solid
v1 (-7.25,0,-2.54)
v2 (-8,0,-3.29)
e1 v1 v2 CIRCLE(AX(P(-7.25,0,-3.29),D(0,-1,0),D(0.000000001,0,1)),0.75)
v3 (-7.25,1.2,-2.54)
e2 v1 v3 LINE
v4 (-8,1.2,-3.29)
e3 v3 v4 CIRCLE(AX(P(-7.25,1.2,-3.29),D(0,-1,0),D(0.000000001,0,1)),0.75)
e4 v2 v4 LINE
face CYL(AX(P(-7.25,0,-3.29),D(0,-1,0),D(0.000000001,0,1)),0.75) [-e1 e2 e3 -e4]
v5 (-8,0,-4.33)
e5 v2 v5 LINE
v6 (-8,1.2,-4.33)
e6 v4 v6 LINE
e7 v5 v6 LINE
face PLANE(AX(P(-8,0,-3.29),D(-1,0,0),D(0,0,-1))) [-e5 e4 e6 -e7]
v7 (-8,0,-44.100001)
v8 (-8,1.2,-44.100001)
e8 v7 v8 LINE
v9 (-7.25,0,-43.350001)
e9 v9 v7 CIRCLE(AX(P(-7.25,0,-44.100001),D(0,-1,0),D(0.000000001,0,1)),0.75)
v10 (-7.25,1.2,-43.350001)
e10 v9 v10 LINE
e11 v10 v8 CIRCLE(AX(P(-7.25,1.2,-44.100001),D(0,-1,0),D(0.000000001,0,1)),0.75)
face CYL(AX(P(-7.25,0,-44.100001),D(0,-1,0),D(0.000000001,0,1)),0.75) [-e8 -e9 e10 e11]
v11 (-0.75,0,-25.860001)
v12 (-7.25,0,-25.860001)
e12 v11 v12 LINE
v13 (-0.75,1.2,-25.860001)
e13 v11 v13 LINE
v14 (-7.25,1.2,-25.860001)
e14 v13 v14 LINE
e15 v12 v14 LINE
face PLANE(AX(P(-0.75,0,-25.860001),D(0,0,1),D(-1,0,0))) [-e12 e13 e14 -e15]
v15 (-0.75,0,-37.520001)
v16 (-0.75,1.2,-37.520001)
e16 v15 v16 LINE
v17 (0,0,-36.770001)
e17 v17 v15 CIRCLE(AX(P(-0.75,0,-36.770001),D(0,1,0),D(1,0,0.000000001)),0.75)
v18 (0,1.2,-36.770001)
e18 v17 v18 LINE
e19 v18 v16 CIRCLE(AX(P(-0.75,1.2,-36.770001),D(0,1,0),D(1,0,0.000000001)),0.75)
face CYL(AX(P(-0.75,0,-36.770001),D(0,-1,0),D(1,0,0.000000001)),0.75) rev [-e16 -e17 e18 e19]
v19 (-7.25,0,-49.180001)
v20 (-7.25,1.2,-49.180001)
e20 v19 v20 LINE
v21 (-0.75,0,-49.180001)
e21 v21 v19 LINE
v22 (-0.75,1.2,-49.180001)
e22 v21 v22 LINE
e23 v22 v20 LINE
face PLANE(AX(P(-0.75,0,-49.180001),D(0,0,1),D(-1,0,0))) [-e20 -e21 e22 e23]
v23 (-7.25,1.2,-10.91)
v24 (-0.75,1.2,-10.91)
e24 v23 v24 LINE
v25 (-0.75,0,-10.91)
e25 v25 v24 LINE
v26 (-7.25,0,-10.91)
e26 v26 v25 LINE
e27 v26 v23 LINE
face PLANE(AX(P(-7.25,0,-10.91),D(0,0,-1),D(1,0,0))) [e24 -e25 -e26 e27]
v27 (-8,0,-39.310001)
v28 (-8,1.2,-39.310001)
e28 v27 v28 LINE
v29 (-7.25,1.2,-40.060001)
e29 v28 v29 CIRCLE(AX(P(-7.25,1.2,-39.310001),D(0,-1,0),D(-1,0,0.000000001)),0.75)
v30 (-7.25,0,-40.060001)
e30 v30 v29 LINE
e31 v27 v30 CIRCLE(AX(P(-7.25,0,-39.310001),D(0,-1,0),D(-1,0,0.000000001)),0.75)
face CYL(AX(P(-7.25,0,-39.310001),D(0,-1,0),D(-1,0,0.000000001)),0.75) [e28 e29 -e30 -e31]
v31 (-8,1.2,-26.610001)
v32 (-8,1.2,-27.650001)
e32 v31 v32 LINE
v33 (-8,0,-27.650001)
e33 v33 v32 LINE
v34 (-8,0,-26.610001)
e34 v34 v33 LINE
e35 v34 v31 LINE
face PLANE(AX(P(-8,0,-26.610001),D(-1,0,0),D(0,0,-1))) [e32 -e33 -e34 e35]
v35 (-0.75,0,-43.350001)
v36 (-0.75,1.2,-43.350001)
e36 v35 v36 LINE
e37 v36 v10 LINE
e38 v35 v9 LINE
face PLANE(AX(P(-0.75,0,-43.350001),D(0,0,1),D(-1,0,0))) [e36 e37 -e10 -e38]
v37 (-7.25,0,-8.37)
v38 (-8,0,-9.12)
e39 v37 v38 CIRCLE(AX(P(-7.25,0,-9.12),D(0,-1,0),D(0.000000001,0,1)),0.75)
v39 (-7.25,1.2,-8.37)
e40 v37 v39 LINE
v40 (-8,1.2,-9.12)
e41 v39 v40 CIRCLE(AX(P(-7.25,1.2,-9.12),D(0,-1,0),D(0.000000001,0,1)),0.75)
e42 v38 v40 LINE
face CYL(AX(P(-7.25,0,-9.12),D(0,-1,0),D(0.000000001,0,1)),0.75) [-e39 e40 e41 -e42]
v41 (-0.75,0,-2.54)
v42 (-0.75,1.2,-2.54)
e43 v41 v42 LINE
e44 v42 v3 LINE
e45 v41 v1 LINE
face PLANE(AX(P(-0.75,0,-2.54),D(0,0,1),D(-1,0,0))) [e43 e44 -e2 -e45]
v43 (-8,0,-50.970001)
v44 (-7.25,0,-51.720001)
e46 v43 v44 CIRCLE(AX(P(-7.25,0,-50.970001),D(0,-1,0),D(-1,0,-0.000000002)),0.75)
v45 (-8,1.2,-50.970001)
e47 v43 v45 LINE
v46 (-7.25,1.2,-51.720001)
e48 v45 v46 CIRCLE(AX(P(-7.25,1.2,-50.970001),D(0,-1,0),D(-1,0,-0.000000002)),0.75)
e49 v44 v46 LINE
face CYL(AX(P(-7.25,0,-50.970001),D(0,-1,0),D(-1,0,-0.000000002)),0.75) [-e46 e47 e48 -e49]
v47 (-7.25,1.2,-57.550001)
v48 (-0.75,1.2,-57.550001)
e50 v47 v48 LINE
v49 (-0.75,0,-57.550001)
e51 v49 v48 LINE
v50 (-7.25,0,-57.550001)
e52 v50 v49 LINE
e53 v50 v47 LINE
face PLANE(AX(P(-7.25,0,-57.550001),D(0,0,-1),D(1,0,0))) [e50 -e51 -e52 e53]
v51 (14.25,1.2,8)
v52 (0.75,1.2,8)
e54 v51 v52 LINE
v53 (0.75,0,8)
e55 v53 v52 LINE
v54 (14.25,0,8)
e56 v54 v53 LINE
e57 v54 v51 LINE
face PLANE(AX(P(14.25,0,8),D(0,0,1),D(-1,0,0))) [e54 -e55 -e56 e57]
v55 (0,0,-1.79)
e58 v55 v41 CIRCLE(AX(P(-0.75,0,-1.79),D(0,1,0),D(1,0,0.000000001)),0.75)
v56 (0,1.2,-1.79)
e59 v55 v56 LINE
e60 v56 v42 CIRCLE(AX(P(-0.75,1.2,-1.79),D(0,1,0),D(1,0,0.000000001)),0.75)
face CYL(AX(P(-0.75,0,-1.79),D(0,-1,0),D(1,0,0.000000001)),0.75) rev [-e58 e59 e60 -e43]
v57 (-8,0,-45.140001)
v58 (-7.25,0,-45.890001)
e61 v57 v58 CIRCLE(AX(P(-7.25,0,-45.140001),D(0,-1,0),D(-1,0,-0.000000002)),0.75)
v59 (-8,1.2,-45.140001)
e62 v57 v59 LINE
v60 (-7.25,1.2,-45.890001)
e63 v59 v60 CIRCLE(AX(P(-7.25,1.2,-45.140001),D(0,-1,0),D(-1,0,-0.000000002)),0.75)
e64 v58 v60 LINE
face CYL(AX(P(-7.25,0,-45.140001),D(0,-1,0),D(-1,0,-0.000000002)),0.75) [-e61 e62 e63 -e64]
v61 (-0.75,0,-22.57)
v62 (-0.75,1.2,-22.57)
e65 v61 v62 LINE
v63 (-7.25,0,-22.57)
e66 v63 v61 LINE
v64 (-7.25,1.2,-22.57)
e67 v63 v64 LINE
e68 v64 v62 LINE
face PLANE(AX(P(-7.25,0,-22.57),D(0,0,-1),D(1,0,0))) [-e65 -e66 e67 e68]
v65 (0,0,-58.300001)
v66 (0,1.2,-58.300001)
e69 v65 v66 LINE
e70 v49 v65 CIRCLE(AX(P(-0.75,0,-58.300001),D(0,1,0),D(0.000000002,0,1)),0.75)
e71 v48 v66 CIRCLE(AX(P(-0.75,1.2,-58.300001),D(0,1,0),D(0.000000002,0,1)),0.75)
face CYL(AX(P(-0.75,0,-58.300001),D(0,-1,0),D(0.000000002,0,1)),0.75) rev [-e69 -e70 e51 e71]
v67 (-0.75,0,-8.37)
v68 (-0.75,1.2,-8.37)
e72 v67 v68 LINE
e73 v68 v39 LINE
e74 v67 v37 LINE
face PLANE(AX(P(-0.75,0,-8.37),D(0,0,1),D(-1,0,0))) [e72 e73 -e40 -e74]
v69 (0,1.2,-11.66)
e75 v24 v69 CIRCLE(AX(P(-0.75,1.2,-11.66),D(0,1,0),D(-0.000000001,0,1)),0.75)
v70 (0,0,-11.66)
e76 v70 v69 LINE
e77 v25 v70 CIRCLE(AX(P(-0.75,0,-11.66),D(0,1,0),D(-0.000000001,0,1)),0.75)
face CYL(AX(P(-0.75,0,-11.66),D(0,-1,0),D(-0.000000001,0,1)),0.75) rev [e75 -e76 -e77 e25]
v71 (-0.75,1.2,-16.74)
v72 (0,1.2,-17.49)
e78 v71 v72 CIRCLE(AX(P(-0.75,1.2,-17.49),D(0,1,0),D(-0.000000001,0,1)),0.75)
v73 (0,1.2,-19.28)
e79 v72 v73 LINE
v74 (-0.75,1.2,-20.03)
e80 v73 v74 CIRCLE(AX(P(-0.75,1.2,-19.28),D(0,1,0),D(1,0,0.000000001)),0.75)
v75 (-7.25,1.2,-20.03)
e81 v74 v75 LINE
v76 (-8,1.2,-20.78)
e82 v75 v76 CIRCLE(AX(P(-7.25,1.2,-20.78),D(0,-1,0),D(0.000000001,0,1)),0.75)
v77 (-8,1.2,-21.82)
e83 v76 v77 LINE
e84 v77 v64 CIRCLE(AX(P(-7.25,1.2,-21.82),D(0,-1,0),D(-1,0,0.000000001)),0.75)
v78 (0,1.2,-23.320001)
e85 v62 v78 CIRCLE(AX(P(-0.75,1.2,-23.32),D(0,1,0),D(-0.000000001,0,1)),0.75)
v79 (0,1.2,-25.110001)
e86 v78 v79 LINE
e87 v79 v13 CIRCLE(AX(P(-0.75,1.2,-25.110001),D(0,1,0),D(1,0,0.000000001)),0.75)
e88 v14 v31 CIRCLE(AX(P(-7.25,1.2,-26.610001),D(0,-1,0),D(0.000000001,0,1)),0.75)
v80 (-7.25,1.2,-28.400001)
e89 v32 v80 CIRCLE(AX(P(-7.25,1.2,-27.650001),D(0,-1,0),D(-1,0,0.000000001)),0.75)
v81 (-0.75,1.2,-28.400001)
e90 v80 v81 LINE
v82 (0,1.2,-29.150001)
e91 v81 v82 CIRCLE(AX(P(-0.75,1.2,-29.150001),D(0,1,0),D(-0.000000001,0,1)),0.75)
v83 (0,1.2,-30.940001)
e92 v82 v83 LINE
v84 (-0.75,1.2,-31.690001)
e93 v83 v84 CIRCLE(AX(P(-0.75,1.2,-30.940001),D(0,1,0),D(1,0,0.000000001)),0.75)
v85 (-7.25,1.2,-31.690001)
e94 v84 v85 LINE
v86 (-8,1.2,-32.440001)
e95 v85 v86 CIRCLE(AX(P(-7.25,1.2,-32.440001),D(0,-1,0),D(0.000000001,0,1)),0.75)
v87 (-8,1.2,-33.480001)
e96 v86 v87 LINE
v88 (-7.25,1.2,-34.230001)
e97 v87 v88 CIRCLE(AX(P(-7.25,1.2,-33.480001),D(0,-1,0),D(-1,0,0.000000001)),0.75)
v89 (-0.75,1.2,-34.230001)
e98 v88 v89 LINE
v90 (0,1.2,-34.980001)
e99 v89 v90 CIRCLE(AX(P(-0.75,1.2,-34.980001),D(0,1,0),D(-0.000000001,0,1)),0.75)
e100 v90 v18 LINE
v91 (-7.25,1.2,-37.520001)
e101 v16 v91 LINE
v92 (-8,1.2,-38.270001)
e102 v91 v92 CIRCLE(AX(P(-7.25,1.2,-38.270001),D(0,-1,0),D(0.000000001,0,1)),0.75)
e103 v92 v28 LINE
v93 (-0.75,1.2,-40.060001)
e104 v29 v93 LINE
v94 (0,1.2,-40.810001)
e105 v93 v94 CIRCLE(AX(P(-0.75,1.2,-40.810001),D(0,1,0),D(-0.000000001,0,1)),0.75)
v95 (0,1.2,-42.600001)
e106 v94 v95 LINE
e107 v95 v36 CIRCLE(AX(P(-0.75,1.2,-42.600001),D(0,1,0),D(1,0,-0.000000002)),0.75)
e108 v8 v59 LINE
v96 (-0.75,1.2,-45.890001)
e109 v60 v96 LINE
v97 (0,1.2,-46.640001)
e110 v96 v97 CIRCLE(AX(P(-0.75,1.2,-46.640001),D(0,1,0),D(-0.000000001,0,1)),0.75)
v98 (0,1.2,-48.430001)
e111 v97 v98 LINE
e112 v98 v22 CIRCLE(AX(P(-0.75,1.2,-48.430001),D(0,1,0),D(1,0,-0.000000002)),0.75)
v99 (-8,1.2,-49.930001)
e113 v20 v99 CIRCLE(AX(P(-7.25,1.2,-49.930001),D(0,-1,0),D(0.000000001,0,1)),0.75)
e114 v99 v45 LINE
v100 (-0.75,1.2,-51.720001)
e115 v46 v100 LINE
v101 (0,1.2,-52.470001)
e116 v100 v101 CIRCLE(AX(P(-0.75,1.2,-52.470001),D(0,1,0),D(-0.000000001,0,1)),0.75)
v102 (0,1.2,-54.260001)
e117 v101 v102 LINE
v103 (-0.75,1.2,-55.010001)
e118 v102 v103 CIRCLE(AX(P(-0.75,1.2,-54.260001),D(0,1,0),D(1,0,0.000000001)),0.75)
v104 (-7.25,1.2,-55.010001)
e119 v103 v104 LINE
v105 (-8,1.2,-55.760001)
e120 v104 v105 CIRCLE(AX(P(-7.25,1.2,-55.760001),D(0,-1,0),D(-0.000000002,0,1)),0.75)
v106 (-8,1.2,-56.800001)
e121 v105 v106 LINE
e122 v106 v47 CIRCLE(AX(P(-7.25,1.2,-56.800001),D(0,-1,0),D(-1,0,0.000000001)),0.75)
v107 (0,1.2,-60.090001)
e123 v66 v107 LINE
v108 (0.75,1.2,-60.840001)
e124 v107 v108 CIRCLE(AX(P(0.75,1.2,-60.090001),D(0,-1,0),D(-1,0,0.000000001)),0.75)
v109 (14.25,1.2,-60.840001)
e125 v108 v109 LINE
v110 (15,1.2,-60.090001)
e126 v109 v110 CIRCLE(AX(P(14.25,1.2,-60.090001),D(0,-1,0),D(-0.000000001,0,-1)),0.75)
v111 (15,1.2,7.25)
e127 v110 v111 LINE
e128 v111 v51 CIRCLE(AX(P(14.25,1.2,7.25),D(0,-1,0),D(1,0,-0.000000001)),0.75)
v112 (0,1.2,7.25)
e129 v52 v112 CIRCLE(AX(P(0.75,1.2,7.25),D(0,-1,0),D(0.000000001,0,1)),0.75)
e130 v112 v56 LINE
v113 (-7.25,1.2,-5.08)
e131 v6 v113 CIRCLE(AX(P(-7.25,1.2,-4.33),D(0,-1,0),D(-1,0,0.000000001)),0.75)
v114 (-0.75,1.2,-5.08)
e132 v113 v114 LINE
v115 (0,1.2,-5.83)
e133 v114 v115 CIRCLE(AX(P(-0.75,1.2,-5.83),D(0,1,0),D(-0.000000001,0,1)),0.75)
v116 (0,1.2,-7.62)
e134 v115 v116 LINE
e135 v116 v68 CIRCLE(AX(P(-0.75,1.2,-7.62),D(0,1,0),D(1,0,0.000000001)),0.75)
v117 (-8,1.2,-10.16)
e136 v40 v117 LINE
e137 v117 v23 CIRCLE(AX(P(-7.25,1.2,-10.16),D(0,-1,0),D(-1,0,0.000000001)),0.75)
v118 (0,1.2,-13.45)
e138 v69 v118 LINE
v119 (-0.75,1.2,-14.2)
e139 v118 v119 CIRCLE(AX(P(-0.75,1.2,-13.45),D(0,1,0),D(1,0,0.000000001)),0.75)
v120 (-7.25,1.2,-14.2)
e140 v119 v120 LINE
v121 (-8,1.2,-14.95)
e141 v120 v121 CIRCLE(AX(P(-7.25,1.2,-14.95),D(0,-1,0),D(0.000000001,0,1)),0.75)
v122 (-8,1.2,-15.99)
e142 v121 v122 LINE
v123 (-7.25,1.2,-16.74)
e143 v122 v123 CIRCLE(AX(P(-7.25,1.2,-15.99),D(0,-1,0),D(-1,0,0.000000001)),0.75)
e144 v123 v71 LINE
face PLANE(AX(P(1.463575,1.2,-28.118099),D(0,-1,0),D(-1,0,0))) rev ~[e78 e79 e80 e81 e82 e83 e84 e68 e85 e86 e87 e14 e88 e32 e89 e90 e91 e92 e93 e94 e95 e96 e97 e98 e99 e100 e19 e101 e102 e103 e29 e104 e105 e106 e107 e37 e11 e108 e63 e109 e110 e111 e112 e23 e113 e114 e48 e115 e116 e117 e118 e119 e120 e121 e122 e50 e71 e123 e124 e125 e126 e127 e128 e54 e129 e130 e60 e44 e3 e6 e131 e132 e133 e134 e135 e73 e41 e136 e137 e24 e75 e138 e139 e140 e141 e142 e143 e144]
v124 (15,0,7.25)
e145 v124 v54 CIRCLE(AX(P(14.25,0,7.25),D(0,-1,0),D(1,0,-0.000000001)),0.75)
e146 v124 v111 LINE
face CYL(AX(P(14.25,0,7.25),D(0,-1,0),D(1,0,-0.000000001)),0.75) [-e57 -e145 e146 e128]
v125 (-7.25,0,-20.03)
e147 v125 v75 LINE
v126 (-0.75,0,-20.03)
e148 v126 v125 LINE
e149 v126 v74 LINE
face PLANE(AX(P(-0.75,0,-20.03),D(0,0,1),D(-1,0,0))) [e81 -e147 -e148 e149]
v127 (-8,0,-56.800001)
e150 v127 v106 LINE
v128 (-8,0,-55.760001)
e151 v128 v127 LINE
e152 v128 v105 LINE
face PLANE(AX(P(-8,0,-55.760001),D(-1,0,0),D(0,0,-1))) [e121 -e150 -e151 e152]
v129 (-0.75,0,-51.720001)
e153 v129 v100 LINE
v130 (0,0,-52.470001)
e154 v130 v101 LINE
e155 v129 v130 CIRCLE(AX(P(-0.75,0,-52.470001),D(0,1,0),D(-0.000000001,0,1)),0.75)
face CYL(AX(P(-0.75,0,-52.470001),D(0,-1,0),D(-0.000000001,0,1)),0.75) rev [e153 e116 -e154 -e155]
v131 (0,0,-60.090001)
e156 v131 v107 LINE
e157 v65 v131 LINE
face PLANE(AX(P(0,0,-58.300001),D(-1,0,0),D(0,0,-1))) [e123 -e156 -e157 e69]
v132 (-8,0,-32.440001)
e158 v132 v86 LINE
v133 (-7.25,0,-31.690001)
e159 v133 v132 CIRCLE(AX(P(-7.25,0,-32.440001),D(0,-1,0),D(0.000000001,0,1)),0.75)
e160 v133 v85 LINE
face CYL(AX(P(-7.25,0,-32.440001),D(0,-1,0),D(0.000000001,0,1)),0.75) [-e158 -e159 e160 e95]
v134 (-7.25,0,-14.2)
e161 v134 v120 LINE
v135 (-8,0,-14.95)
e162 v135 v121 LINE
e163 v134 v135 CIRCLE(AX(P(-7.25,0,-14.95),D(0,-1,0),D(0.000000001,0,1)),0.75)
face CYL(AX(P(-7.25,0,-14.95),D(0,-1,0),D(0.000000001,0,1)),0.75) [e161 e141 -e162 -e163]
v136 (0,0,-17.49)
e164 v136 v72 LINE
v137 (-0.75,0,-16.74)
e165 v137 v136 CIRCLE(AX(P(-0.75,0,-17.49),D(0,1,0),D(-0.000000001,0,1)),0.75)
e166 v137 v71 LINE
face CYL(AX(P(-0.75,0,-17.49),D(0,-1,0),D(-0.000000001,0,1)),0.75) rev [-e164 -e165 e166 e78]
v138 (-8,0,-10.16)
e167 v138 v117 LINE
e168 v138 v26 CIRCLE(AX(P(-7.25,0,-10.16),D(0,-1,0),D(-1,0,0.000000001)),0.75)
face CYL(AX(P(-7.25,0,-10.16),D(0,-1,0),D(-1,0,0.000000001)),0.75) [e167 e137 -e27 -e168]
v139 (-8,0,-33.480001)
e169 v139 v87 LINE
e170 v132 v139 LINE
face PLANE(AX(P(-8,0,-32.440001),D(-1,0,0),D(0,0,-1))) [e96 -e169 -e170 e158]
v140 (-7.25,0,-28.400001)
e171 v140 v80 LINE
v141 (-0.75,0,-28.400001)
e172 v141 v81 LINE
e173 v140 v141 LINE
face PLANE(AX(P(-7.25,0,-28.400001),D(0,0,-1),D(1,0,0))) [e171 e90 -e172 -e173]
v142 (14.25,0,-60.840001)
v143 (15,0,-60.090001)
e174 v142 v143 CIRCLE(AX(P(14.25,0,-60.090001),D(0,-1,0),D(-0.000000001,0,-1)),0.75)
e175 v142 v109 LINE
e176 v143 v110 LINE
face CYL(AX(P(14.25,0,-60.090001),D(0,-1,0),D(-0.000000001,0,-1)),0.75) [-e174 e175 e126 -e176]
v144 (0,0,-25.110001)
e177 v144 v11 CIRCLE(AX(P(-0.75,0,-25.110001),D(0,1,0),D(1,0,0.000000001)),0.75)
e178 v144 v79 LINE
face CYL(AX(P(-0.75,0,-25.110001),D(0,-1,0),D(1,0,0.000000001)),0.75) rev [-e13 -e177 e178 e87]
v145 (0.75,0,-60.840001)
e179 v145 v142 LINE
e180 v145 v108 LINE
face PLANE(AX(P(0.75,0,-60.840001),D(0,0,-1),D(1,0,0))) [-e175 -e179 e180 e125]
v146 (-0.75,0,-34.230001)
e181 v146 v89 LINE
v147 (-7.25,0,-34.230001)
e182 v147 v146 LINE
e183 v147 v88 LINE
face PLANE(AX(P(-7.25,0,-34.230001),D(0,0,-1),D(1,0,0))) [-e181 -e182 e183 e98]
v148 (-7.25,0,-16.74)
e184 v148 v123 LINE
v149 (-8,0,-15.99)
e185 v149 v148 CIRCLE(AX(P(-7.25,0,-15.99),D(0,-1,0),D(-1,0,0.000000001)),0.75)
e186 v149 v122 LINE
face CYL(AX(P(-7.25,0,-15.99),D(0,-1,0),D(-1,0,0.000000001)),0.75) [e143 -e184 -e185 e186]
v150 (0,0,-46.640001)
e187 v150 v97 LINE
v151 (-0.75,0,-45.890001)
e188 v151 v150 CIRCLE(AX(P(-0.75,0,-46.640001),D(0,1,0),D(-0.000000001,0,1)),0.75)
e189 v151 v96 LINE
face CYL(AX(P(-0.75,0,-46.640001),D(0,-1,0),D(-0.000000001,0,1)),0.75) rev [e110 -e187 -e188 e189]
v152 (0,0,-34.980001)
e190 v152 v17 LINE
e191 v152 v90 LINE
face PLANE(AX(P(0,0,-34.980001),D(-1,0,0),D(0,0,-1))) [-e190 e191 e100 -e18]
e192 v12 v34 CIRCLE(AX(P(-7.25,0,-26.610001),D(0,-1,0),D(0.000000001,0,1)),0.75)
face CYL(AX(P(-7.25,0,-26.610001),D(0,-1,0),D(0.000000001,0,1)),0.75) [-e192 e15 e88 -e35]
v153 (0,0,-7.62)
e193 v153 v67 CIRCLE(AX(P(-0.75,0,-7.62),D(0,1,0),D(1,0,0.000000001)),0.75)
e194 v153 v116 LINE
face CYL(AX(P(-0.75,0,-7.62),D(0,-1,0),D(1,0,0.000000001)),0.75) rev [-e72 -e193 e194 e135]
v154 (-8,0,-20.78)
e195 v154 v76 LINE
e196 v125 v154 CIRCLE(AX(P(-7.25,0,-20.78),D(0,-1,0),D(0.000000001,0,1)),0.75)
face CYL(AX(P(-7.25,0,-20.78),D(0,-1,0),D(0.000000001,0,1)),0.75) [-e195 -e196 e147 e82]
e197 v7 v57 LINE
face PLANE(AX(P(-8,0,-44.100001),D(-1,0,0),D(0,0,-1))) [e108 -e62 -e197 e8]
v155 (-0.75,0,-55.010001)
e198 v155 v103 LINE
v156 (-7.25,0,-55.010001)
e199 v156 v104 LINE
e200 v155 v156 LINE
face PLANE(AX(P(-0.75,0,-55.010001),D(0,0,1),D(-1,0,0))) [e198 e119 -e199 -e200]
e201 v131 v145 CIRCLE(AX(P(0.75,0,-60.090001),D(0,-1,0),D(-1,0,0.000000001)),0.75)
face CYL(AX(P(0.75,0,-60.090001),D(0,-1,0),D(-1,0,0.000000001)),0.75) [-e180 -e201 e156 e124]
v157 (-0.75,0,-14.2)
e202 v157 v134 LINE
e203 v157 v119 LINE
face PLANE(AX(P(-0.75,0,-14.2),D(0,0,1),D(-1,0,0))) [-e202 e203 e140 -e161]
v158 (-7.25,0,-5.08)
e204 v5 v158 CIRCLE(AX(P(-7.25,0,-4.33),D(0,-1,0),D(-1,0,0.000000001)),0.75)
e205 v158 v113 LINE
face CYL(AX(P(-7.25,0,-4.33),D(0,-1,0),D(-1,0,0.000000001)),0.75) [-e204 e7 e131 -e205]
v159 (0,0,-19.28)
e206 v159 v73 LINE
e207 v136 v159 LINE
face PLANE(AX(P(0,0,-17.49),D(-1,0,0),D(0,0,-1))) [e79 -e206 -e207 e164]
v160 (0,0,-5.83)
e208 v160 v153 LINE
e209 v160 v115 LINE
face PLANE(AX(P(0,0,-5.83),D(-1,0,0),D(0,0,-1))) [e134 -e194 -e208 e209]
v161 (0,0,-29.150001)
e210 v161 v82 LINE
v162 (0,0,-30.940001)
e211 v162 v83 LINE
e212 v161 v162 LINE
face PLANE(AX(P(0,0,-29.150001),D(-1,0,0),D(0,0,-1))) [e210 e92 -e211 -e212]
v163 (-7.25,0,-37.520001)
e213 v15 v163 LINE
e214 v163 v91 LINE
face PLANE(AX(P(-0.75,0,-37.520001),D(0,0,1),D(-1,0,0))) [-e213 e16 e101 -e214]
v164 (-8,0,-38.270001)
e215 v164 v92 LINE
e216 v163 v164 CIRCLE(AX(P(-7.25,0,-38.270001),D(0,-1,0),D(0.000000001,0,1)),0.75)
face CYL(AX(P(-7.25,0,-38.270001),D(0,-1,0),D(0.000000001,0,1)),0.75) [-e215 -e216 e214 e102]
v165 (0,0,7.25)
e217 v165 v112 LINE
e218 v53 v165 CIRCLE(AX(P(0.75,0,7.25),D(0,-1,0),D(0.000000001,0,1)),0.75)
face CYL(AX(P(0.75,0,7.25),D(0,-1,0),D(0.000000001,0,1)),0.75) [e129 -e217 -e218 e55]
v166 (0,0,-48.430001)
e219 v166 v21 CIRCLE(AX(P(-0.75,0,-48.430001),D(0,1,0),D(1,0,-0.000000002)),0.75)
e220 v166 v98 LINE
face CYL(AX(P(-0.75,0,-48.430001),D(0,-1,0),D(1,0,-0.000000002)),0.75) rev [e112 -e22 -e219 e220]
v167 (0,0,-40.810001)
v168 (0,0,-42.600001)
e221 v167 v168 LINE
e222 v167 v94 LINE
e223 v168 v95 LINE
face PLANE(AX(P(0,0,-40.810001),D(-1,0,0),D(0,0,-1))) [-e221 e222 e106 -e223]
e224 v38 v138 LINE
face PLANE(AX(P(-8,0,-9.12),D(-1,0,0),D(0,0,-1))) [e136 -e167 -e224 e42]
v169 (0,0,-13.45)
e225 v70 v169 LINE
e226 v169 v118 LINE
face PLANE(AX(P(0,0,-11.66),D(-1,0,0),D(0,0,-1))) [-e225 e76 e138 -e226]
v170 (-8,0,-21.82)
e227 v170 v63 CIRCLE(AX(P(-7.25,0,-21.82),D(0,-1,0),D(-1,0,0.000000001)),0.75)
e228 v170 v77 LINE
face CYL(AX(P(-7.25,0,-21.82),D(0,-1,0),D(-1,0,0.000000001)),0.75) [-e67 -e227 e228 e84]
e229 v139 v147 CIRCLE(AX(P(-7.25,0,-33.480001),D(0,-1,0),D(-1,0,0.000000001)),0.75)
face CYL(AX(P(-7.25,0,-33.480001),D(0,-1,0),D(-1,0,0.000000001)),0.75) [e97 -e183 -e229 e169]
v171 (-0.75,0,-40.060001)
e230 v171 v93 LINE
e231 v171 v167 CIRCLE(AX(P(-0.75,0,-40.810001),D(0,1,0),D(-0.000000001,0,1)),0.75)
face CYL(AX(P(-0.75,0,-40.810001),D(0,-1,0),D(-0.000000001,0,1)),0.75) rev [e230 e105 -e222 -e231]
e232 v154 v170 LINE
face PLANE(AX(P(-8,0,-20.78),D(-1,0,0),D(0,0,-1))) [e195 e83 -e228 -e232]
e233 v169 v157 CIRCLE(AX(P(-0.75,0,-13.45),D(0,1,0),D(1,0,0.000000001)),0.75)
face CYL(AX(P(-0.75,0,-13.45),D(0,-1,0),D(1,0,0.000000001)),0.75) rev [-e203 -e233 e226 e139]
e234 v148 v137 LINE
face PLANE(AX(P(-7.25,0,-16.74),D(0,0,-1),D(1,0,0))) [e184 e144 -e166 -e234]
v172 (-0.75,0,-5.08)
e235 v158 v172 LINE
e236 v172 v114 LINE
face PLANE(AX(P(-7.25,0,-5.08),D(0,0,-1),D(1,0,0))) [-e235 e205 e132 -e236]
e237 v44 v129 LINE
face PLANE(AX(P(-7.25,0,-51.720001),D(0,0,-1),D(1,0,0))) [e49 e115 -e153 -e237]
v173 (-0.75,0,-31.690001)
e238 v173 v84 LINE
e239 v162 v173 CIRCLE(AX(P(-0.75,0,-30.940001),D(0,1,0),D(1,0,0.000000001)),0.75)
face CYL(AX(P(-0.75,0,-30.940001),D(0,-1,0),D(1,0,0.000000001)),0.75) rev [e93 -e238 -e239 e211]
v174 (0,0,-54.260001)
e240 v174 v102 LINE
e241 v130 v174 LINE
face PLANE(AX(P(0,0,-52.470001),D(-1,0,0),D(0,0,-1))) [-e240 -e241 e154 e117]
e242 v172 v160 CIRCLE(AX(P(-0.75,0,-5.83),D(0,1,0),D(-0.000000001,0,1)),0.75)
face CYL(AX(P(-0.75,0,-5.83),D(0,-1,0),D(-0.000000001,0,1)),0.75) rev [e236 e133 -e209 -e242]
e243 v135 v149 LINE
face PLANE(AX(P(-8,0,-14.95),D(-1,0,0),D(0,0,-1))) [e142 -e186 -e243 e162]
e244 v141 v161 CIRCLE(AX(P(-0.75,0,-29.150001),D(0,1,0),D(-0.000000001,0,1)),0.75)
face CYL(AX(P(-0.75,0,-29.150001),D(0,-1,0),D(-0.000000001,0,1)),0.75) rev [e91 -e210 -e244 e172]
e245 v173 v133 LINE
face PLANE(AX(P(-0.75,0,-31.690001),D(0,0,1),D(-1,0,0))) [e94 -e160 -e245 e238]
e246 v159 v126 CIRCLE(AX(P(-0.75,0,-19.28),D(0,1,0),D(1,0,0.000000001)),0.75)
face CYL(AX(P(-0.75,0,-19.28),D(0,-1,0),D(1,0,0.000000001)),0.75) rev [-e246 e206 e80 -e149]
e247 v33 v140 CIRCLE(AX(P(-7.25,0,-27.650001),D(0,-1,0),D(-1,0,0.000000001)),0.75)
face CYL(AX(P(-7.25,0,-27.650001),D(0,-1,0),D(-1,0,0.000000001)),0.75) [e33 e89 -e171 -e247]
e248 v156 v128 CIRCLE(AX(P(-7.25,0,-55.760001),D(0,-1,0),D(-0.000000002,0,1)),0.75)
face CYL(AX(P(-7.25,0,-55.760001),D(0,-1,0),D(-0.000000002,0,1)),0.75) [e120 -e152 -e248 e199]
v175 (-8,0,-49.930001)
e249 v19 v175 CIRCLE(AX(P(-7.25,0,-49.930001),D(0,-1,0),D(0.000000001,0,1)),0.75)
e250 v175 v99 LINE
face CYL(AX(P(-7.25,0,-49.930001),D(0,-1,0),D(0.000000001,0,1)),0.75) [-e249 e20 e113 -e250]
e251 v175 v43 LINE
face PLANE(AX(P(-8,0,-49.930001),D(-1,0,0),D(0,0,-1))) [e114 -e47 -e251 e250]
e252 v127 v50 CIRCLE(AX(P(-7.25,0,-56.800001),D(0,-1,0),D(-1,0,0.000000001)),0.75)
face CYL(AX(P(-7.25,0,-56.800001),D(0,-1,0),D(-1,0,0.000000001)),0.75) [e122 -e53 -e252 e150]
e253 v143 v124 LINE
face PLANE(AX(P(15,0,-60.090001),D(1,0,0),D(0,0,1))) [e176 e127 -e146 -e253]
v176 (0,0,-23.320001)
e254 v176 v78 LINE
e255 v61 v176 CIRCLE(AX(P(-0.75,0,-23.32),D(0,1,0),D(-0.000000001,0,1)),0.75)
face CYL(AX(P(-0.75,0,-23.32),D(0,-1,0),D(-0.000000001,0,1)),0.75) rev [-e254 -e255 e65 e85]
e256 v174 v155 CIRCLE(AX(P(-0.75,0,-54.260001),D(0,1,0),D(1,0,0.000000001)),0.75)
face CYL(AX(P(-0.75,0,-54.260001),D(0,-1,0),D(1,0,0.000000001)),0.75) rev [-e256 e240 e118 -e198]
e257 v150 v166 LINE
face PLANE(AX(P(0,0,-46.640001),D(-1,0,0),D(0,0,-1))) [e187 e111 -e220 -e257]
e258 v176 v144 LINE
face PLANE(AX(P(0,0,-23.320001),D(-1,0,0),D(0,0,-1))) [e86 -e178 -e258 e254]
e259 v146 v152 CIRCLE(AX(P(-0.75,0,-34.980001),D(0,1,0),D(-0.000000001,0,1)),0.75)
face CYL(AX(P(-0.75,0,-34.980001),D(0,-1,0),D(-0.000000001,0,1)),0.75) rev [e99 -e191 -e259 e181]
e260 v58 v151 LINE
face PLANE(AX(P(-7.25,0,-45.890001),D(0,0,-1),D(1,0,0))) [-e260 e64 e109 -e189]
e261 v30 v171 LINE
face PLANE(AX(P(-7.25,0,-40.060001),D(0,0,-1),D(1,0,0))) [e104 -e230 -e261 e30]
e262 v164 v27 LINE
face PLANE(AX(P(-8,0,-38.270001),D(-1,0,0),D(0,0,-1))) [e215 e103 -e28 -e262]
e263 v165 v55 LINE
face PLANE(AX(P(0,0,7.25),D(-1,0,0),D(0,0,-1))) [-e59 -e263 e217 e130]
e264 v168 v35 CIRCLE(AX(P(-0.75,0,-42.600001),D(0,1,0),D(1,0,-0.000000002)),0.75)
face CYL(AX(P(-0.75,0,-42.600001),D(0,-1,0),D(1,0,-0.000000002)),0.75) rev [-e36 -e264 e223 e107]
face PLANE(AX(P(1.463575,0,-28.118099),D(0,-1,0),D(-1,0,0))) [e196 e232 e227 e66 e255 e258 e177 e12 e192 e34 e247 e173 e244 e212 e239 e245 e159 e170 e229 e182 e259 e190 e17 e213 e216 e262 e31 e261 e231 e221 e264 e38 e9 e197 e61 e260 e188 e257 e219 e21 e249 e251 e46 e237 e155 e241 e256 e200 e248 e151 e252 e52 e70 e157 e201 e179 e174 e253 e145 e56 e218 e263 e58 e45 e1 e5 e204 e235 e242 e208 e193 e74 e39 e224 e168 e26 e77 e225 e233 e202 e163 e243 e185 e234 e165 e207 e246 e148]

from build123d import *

# Parameters (mm, degrees)
BOSS_EXTRUDE1_DEPTH = 1.2


with BuildPart() as part:
    # Sketch1 → Boss-Extrude1 (new body)
    with BuildSketch(Plane(origin=(0, 0, 0), x_dir=(1, 0, 0), z_dir=(0, 1, 0))):
        with BuildLine():
            Line((-0.75, 2.54), (-7.25, 2.54))
            ThreePointArc((-7.25, 2.54), (-7.780330086, 2.759669914), (-8, 3.29))
            Line((-8, 3.29), (-8, 4.33))
            ThreePointArc((-8, 4.33), (-7.780330086, 4.860330086), (-7.25, 5.08))
            Line((-7.25, 5.08), (-0.75, 5.08))
            ThreePointArc((-0.75, 5.08), (-0.219669914, 5.299669914), (0, 5.83))
            Line((0, 5.83), (0, 7.62000013))
            ThreePointArc((0, 7.62000013), (-0.219669914, 8.150330216), (-0.75, 8.37000013))
            Line((-0.75, 8.37000013), (-7.25, 8.37000013))
            ThreePointArc((-7.25, 8.37000013), (-7.780330086, 8.589670044), (-8, 9.12000013))
            Line((-8, 9.12000013), (-8, 10.16000013))
            ThreePointArc((-8, 10.16000013), (-7.780330086, 10.690330216), (-7.25, 10.91000013))
            Line((-7.25, 10.91000013), (-0.75, 10.91000013))
            ThreePointArc((-0.75, 10.91000013), (-0.219669868, 11.12967009), (0, 11.66000026))
            Line((0, 11.66000026), (0, 13.45000026))
            ThreePointArc((0, 13.45000026), (-0.219669914, 13.980330346), (-0.75, 14.20000026))
            Line((-0.75, 14.20000026), (-7.25, 14.20000026))
            ThreePointArc((-7.25, 14.20000026), (-7.780330086, 14.419670174), (-8, 14.95000026))
            Line((-8, 14.95000026), (-8, 15.99000026))
            ThreePointArc((-8, 15.99000026), (-7.780330086, 16.520330346), (-7.25, 16.74000026))
            Line((-7.25, 16.74000026), (-0.75, 16.74000026))
            ThreePointArc((-0.75, 16.74000026), (-0.219669868, 16.95967022), (0, 17.49000039))
            Line((0, 17.49000039), (0, 19.28000039))
            ThreePointArc((0, 19.28000039), (-0.219669914, 19.810330476), (-0.75, 20.03000039))
            Line((-0.75, 20.03000039), (-7.25, 20.03000039))
            ThreePointArc((-7.25, 20.03000039), (-7.780330086, 20.249670304), (-8, 20.78000039))
            Line((-8, 20.78000039), (-8, 21.82000039))
            ThreePointArc((-8, 21.82000039), (-7.780330086, 22.350330476), (-7.25, 22.57000039))
            Line((-7.25, 22.57000039), (-0.75, 22.57000039))
            ThreePointArc((-0.75, 22.57000039), (-0.219669868, 22.78967035), (0, 23.32000052))
            Line((0, 23.32000052), (0, 25.11000052))
            ThreePointArc((0, 25.11000052), (-0.219669914, 25.640330606), (-0.75, 25.86000052))
            Line((-0.75, 25.86000052), (-7.25, 25.86000052))
            ThreePointArc((-7.25, 25.86000052), (-7.780330086, 26.079670434), (-8, 26.61000052))
            Line((-8, 26.61000052), (-8, 27.65000052))
            ThreePointArc((-8, 27.65000052), (-7.780330086, 28.180330606), (-7.25, 28.40000052))
            Line((-7.25, 28.40000052), (-0.75, 28.40000052))
            ThreePointArc((-0.75, 28.40000052), (-0.219669868, 28.61967048), (0, 29.15000065))
            Line((0, 29.15000065), (0, 30.94000065))
            ThreePointArc((0, 30.94000065), (-0.219669914, 31.470330736), (-0.75, 31.69000065))
            Line((-0.75, 31.69000065), (-7.25, 31.69000065))
            ThreePointArc((-7.25, 31.69000065), (-7.780330086, 31.909670564), (-8, 32.44000065))
            Line((-8, 32.44000065), (-8, 33.48000065))
            ThreePointArc((-8, 33.48000065), (-7.780330086, 34.010330736), (-7.25, 34.23000065))
            Line((-7.25, 34.23000065), (-0.75, 34.23000065))
            ThreePointArc((-0.75, 34.23000065), (-0.219669868, 34.44967061), (0, 34.98000078))
            Line((0, 34.98000078), (0, 36.77000078))
            ThreePointArc((0, 36.77000078), (-0.219669914, 37.300330866), (-0.75, 37.52000078))
            Line((-0.75, 37.52000078), (-7.25, 37.52000078))
            ThreePointArc((-7.25, 37.52000078), (-7.780330086, 37.739670694), (-8, 38.27000078))
            Line((-8, 38.27000078), (-8, 39.31000078))
            ThreePointArc((-8, 39.31000078), (-7.780330086, 39.840330866), (-7.25, 40.06000078))
            Line((-7.25, 40.06000078), (-0.75, 40.06000078))
            ThreePointArc((-0.75, 40.06000078), (-0.219669868, 40.27967074), (0, 40.81000091))
            Line((0, 40.81000091), (0, 42.60000091))
            ThreePointArc((0, 42.60000091), (-0.219669914, 43.130330995), (-0.75, 43.35000091))
            Line((-0.75, 43.35000091), (-7.25, 43.35000091))
            ThreePointArc((-7.25, 43.35000091), (-7.780330086, 43.569670824), (-8, 44.10000091))
            Line((-8, 44.10000091), (-8, 45.14000091))
            ThreePointArc((-8, 45.14000091), (-7.780330086, 45.670330995), (-7.25, 45.89000091))
            Line((-7.25, 45.89000091), (-0.75, 45.89000091))
            ThreePointArc((-0.75, 45.89000091), (-0.219669868, 46.10967087), (0, 46.64000104))
            Line((0, 46.64000104), (0, 48.43000104))
            ThreePointArc((0, 48.43000104), (-0.219669914, 48.960331125), (-0.75, 49.18000104))
            Line((-0.75, 49.18000104), (-7.25, 49.18000104))
            ThreePointArc((-7.25, 49.18000104), (-7.780330086, 49.399670954), (-8, 49.93000104))
            Line((-8, 49.93000104), (-8, 50.97000104))
            ThreePointArc((-8, 50.97000104), (-7.780330086, 51.500331125), (-7.25, 51.72000104))
            Line((-7.25, 51.72000104), (-0.75, 51.72000104))
            ThreePointArc((-0.75, 51.72000104), (-0.219669868, 51.939671), (0, 52.470001169))
            Line((0, 52.470001169), (0, 54.260001169))
            ThreePointArc((0, 54.260001169), (-0.219669914, 54.790331255), (-0.75, 55.010001169))
            Line((-0.75, 55.010001169), (-7.25, 55.010001169))
            ThreePointArc((-7.25, 55.010001169), (-7.780330086, 55.229671084), (-8, 55.760001169))
            Line((-8, 55.760001169), (-8, 56.800001169))
            ThreePointArc((-8, 56.800001169), (-7.780330086, 57.330331255), (-7.25, 57.550001169))
            Line((-7.25, 57.550001169), (-0.75, 57.550001169))
            ThreePointArc((-0.75, 57.550001169), (-0.219669914, 57.769671084), (0, 58.300001169))
            Line((0, 58.300001169), (0, 60.090001169))
            ThreePointArc((0, 60.090001169), (0.219669914, 60.620331255), (0.75, 60.840001169))
            Line((0.75, 60.840001169), (14.25, 60.840001169))
            ThreePointArc((14.25, 60.840001169), (14.780330086, 60.620331255), (15, 60.090001169))
            Line((15, 60.090001169), (15, 0))
            Line((15, 0), (15, -7.25))
            ThreePointArc((15, -7.25), (14.780330086, -7.780330086), (14.25, -8))
            Line((14.25, -8), (0.75, -8))
            ThreePointArc((0.75, -8), (0.219669914, -7.780330086), (0, -7.25))
            Line((0, -7.25), (0, 0))
            Line((0, 0), (0, 1.79))
            ThreePointArc((0, 1.79), (-0.219669914, 2.320330086), (-0.75, 2.54))
        make_face()
    extrude(amount=BOSS_EXTRUDE1_DEPTH)


solid = part.part
